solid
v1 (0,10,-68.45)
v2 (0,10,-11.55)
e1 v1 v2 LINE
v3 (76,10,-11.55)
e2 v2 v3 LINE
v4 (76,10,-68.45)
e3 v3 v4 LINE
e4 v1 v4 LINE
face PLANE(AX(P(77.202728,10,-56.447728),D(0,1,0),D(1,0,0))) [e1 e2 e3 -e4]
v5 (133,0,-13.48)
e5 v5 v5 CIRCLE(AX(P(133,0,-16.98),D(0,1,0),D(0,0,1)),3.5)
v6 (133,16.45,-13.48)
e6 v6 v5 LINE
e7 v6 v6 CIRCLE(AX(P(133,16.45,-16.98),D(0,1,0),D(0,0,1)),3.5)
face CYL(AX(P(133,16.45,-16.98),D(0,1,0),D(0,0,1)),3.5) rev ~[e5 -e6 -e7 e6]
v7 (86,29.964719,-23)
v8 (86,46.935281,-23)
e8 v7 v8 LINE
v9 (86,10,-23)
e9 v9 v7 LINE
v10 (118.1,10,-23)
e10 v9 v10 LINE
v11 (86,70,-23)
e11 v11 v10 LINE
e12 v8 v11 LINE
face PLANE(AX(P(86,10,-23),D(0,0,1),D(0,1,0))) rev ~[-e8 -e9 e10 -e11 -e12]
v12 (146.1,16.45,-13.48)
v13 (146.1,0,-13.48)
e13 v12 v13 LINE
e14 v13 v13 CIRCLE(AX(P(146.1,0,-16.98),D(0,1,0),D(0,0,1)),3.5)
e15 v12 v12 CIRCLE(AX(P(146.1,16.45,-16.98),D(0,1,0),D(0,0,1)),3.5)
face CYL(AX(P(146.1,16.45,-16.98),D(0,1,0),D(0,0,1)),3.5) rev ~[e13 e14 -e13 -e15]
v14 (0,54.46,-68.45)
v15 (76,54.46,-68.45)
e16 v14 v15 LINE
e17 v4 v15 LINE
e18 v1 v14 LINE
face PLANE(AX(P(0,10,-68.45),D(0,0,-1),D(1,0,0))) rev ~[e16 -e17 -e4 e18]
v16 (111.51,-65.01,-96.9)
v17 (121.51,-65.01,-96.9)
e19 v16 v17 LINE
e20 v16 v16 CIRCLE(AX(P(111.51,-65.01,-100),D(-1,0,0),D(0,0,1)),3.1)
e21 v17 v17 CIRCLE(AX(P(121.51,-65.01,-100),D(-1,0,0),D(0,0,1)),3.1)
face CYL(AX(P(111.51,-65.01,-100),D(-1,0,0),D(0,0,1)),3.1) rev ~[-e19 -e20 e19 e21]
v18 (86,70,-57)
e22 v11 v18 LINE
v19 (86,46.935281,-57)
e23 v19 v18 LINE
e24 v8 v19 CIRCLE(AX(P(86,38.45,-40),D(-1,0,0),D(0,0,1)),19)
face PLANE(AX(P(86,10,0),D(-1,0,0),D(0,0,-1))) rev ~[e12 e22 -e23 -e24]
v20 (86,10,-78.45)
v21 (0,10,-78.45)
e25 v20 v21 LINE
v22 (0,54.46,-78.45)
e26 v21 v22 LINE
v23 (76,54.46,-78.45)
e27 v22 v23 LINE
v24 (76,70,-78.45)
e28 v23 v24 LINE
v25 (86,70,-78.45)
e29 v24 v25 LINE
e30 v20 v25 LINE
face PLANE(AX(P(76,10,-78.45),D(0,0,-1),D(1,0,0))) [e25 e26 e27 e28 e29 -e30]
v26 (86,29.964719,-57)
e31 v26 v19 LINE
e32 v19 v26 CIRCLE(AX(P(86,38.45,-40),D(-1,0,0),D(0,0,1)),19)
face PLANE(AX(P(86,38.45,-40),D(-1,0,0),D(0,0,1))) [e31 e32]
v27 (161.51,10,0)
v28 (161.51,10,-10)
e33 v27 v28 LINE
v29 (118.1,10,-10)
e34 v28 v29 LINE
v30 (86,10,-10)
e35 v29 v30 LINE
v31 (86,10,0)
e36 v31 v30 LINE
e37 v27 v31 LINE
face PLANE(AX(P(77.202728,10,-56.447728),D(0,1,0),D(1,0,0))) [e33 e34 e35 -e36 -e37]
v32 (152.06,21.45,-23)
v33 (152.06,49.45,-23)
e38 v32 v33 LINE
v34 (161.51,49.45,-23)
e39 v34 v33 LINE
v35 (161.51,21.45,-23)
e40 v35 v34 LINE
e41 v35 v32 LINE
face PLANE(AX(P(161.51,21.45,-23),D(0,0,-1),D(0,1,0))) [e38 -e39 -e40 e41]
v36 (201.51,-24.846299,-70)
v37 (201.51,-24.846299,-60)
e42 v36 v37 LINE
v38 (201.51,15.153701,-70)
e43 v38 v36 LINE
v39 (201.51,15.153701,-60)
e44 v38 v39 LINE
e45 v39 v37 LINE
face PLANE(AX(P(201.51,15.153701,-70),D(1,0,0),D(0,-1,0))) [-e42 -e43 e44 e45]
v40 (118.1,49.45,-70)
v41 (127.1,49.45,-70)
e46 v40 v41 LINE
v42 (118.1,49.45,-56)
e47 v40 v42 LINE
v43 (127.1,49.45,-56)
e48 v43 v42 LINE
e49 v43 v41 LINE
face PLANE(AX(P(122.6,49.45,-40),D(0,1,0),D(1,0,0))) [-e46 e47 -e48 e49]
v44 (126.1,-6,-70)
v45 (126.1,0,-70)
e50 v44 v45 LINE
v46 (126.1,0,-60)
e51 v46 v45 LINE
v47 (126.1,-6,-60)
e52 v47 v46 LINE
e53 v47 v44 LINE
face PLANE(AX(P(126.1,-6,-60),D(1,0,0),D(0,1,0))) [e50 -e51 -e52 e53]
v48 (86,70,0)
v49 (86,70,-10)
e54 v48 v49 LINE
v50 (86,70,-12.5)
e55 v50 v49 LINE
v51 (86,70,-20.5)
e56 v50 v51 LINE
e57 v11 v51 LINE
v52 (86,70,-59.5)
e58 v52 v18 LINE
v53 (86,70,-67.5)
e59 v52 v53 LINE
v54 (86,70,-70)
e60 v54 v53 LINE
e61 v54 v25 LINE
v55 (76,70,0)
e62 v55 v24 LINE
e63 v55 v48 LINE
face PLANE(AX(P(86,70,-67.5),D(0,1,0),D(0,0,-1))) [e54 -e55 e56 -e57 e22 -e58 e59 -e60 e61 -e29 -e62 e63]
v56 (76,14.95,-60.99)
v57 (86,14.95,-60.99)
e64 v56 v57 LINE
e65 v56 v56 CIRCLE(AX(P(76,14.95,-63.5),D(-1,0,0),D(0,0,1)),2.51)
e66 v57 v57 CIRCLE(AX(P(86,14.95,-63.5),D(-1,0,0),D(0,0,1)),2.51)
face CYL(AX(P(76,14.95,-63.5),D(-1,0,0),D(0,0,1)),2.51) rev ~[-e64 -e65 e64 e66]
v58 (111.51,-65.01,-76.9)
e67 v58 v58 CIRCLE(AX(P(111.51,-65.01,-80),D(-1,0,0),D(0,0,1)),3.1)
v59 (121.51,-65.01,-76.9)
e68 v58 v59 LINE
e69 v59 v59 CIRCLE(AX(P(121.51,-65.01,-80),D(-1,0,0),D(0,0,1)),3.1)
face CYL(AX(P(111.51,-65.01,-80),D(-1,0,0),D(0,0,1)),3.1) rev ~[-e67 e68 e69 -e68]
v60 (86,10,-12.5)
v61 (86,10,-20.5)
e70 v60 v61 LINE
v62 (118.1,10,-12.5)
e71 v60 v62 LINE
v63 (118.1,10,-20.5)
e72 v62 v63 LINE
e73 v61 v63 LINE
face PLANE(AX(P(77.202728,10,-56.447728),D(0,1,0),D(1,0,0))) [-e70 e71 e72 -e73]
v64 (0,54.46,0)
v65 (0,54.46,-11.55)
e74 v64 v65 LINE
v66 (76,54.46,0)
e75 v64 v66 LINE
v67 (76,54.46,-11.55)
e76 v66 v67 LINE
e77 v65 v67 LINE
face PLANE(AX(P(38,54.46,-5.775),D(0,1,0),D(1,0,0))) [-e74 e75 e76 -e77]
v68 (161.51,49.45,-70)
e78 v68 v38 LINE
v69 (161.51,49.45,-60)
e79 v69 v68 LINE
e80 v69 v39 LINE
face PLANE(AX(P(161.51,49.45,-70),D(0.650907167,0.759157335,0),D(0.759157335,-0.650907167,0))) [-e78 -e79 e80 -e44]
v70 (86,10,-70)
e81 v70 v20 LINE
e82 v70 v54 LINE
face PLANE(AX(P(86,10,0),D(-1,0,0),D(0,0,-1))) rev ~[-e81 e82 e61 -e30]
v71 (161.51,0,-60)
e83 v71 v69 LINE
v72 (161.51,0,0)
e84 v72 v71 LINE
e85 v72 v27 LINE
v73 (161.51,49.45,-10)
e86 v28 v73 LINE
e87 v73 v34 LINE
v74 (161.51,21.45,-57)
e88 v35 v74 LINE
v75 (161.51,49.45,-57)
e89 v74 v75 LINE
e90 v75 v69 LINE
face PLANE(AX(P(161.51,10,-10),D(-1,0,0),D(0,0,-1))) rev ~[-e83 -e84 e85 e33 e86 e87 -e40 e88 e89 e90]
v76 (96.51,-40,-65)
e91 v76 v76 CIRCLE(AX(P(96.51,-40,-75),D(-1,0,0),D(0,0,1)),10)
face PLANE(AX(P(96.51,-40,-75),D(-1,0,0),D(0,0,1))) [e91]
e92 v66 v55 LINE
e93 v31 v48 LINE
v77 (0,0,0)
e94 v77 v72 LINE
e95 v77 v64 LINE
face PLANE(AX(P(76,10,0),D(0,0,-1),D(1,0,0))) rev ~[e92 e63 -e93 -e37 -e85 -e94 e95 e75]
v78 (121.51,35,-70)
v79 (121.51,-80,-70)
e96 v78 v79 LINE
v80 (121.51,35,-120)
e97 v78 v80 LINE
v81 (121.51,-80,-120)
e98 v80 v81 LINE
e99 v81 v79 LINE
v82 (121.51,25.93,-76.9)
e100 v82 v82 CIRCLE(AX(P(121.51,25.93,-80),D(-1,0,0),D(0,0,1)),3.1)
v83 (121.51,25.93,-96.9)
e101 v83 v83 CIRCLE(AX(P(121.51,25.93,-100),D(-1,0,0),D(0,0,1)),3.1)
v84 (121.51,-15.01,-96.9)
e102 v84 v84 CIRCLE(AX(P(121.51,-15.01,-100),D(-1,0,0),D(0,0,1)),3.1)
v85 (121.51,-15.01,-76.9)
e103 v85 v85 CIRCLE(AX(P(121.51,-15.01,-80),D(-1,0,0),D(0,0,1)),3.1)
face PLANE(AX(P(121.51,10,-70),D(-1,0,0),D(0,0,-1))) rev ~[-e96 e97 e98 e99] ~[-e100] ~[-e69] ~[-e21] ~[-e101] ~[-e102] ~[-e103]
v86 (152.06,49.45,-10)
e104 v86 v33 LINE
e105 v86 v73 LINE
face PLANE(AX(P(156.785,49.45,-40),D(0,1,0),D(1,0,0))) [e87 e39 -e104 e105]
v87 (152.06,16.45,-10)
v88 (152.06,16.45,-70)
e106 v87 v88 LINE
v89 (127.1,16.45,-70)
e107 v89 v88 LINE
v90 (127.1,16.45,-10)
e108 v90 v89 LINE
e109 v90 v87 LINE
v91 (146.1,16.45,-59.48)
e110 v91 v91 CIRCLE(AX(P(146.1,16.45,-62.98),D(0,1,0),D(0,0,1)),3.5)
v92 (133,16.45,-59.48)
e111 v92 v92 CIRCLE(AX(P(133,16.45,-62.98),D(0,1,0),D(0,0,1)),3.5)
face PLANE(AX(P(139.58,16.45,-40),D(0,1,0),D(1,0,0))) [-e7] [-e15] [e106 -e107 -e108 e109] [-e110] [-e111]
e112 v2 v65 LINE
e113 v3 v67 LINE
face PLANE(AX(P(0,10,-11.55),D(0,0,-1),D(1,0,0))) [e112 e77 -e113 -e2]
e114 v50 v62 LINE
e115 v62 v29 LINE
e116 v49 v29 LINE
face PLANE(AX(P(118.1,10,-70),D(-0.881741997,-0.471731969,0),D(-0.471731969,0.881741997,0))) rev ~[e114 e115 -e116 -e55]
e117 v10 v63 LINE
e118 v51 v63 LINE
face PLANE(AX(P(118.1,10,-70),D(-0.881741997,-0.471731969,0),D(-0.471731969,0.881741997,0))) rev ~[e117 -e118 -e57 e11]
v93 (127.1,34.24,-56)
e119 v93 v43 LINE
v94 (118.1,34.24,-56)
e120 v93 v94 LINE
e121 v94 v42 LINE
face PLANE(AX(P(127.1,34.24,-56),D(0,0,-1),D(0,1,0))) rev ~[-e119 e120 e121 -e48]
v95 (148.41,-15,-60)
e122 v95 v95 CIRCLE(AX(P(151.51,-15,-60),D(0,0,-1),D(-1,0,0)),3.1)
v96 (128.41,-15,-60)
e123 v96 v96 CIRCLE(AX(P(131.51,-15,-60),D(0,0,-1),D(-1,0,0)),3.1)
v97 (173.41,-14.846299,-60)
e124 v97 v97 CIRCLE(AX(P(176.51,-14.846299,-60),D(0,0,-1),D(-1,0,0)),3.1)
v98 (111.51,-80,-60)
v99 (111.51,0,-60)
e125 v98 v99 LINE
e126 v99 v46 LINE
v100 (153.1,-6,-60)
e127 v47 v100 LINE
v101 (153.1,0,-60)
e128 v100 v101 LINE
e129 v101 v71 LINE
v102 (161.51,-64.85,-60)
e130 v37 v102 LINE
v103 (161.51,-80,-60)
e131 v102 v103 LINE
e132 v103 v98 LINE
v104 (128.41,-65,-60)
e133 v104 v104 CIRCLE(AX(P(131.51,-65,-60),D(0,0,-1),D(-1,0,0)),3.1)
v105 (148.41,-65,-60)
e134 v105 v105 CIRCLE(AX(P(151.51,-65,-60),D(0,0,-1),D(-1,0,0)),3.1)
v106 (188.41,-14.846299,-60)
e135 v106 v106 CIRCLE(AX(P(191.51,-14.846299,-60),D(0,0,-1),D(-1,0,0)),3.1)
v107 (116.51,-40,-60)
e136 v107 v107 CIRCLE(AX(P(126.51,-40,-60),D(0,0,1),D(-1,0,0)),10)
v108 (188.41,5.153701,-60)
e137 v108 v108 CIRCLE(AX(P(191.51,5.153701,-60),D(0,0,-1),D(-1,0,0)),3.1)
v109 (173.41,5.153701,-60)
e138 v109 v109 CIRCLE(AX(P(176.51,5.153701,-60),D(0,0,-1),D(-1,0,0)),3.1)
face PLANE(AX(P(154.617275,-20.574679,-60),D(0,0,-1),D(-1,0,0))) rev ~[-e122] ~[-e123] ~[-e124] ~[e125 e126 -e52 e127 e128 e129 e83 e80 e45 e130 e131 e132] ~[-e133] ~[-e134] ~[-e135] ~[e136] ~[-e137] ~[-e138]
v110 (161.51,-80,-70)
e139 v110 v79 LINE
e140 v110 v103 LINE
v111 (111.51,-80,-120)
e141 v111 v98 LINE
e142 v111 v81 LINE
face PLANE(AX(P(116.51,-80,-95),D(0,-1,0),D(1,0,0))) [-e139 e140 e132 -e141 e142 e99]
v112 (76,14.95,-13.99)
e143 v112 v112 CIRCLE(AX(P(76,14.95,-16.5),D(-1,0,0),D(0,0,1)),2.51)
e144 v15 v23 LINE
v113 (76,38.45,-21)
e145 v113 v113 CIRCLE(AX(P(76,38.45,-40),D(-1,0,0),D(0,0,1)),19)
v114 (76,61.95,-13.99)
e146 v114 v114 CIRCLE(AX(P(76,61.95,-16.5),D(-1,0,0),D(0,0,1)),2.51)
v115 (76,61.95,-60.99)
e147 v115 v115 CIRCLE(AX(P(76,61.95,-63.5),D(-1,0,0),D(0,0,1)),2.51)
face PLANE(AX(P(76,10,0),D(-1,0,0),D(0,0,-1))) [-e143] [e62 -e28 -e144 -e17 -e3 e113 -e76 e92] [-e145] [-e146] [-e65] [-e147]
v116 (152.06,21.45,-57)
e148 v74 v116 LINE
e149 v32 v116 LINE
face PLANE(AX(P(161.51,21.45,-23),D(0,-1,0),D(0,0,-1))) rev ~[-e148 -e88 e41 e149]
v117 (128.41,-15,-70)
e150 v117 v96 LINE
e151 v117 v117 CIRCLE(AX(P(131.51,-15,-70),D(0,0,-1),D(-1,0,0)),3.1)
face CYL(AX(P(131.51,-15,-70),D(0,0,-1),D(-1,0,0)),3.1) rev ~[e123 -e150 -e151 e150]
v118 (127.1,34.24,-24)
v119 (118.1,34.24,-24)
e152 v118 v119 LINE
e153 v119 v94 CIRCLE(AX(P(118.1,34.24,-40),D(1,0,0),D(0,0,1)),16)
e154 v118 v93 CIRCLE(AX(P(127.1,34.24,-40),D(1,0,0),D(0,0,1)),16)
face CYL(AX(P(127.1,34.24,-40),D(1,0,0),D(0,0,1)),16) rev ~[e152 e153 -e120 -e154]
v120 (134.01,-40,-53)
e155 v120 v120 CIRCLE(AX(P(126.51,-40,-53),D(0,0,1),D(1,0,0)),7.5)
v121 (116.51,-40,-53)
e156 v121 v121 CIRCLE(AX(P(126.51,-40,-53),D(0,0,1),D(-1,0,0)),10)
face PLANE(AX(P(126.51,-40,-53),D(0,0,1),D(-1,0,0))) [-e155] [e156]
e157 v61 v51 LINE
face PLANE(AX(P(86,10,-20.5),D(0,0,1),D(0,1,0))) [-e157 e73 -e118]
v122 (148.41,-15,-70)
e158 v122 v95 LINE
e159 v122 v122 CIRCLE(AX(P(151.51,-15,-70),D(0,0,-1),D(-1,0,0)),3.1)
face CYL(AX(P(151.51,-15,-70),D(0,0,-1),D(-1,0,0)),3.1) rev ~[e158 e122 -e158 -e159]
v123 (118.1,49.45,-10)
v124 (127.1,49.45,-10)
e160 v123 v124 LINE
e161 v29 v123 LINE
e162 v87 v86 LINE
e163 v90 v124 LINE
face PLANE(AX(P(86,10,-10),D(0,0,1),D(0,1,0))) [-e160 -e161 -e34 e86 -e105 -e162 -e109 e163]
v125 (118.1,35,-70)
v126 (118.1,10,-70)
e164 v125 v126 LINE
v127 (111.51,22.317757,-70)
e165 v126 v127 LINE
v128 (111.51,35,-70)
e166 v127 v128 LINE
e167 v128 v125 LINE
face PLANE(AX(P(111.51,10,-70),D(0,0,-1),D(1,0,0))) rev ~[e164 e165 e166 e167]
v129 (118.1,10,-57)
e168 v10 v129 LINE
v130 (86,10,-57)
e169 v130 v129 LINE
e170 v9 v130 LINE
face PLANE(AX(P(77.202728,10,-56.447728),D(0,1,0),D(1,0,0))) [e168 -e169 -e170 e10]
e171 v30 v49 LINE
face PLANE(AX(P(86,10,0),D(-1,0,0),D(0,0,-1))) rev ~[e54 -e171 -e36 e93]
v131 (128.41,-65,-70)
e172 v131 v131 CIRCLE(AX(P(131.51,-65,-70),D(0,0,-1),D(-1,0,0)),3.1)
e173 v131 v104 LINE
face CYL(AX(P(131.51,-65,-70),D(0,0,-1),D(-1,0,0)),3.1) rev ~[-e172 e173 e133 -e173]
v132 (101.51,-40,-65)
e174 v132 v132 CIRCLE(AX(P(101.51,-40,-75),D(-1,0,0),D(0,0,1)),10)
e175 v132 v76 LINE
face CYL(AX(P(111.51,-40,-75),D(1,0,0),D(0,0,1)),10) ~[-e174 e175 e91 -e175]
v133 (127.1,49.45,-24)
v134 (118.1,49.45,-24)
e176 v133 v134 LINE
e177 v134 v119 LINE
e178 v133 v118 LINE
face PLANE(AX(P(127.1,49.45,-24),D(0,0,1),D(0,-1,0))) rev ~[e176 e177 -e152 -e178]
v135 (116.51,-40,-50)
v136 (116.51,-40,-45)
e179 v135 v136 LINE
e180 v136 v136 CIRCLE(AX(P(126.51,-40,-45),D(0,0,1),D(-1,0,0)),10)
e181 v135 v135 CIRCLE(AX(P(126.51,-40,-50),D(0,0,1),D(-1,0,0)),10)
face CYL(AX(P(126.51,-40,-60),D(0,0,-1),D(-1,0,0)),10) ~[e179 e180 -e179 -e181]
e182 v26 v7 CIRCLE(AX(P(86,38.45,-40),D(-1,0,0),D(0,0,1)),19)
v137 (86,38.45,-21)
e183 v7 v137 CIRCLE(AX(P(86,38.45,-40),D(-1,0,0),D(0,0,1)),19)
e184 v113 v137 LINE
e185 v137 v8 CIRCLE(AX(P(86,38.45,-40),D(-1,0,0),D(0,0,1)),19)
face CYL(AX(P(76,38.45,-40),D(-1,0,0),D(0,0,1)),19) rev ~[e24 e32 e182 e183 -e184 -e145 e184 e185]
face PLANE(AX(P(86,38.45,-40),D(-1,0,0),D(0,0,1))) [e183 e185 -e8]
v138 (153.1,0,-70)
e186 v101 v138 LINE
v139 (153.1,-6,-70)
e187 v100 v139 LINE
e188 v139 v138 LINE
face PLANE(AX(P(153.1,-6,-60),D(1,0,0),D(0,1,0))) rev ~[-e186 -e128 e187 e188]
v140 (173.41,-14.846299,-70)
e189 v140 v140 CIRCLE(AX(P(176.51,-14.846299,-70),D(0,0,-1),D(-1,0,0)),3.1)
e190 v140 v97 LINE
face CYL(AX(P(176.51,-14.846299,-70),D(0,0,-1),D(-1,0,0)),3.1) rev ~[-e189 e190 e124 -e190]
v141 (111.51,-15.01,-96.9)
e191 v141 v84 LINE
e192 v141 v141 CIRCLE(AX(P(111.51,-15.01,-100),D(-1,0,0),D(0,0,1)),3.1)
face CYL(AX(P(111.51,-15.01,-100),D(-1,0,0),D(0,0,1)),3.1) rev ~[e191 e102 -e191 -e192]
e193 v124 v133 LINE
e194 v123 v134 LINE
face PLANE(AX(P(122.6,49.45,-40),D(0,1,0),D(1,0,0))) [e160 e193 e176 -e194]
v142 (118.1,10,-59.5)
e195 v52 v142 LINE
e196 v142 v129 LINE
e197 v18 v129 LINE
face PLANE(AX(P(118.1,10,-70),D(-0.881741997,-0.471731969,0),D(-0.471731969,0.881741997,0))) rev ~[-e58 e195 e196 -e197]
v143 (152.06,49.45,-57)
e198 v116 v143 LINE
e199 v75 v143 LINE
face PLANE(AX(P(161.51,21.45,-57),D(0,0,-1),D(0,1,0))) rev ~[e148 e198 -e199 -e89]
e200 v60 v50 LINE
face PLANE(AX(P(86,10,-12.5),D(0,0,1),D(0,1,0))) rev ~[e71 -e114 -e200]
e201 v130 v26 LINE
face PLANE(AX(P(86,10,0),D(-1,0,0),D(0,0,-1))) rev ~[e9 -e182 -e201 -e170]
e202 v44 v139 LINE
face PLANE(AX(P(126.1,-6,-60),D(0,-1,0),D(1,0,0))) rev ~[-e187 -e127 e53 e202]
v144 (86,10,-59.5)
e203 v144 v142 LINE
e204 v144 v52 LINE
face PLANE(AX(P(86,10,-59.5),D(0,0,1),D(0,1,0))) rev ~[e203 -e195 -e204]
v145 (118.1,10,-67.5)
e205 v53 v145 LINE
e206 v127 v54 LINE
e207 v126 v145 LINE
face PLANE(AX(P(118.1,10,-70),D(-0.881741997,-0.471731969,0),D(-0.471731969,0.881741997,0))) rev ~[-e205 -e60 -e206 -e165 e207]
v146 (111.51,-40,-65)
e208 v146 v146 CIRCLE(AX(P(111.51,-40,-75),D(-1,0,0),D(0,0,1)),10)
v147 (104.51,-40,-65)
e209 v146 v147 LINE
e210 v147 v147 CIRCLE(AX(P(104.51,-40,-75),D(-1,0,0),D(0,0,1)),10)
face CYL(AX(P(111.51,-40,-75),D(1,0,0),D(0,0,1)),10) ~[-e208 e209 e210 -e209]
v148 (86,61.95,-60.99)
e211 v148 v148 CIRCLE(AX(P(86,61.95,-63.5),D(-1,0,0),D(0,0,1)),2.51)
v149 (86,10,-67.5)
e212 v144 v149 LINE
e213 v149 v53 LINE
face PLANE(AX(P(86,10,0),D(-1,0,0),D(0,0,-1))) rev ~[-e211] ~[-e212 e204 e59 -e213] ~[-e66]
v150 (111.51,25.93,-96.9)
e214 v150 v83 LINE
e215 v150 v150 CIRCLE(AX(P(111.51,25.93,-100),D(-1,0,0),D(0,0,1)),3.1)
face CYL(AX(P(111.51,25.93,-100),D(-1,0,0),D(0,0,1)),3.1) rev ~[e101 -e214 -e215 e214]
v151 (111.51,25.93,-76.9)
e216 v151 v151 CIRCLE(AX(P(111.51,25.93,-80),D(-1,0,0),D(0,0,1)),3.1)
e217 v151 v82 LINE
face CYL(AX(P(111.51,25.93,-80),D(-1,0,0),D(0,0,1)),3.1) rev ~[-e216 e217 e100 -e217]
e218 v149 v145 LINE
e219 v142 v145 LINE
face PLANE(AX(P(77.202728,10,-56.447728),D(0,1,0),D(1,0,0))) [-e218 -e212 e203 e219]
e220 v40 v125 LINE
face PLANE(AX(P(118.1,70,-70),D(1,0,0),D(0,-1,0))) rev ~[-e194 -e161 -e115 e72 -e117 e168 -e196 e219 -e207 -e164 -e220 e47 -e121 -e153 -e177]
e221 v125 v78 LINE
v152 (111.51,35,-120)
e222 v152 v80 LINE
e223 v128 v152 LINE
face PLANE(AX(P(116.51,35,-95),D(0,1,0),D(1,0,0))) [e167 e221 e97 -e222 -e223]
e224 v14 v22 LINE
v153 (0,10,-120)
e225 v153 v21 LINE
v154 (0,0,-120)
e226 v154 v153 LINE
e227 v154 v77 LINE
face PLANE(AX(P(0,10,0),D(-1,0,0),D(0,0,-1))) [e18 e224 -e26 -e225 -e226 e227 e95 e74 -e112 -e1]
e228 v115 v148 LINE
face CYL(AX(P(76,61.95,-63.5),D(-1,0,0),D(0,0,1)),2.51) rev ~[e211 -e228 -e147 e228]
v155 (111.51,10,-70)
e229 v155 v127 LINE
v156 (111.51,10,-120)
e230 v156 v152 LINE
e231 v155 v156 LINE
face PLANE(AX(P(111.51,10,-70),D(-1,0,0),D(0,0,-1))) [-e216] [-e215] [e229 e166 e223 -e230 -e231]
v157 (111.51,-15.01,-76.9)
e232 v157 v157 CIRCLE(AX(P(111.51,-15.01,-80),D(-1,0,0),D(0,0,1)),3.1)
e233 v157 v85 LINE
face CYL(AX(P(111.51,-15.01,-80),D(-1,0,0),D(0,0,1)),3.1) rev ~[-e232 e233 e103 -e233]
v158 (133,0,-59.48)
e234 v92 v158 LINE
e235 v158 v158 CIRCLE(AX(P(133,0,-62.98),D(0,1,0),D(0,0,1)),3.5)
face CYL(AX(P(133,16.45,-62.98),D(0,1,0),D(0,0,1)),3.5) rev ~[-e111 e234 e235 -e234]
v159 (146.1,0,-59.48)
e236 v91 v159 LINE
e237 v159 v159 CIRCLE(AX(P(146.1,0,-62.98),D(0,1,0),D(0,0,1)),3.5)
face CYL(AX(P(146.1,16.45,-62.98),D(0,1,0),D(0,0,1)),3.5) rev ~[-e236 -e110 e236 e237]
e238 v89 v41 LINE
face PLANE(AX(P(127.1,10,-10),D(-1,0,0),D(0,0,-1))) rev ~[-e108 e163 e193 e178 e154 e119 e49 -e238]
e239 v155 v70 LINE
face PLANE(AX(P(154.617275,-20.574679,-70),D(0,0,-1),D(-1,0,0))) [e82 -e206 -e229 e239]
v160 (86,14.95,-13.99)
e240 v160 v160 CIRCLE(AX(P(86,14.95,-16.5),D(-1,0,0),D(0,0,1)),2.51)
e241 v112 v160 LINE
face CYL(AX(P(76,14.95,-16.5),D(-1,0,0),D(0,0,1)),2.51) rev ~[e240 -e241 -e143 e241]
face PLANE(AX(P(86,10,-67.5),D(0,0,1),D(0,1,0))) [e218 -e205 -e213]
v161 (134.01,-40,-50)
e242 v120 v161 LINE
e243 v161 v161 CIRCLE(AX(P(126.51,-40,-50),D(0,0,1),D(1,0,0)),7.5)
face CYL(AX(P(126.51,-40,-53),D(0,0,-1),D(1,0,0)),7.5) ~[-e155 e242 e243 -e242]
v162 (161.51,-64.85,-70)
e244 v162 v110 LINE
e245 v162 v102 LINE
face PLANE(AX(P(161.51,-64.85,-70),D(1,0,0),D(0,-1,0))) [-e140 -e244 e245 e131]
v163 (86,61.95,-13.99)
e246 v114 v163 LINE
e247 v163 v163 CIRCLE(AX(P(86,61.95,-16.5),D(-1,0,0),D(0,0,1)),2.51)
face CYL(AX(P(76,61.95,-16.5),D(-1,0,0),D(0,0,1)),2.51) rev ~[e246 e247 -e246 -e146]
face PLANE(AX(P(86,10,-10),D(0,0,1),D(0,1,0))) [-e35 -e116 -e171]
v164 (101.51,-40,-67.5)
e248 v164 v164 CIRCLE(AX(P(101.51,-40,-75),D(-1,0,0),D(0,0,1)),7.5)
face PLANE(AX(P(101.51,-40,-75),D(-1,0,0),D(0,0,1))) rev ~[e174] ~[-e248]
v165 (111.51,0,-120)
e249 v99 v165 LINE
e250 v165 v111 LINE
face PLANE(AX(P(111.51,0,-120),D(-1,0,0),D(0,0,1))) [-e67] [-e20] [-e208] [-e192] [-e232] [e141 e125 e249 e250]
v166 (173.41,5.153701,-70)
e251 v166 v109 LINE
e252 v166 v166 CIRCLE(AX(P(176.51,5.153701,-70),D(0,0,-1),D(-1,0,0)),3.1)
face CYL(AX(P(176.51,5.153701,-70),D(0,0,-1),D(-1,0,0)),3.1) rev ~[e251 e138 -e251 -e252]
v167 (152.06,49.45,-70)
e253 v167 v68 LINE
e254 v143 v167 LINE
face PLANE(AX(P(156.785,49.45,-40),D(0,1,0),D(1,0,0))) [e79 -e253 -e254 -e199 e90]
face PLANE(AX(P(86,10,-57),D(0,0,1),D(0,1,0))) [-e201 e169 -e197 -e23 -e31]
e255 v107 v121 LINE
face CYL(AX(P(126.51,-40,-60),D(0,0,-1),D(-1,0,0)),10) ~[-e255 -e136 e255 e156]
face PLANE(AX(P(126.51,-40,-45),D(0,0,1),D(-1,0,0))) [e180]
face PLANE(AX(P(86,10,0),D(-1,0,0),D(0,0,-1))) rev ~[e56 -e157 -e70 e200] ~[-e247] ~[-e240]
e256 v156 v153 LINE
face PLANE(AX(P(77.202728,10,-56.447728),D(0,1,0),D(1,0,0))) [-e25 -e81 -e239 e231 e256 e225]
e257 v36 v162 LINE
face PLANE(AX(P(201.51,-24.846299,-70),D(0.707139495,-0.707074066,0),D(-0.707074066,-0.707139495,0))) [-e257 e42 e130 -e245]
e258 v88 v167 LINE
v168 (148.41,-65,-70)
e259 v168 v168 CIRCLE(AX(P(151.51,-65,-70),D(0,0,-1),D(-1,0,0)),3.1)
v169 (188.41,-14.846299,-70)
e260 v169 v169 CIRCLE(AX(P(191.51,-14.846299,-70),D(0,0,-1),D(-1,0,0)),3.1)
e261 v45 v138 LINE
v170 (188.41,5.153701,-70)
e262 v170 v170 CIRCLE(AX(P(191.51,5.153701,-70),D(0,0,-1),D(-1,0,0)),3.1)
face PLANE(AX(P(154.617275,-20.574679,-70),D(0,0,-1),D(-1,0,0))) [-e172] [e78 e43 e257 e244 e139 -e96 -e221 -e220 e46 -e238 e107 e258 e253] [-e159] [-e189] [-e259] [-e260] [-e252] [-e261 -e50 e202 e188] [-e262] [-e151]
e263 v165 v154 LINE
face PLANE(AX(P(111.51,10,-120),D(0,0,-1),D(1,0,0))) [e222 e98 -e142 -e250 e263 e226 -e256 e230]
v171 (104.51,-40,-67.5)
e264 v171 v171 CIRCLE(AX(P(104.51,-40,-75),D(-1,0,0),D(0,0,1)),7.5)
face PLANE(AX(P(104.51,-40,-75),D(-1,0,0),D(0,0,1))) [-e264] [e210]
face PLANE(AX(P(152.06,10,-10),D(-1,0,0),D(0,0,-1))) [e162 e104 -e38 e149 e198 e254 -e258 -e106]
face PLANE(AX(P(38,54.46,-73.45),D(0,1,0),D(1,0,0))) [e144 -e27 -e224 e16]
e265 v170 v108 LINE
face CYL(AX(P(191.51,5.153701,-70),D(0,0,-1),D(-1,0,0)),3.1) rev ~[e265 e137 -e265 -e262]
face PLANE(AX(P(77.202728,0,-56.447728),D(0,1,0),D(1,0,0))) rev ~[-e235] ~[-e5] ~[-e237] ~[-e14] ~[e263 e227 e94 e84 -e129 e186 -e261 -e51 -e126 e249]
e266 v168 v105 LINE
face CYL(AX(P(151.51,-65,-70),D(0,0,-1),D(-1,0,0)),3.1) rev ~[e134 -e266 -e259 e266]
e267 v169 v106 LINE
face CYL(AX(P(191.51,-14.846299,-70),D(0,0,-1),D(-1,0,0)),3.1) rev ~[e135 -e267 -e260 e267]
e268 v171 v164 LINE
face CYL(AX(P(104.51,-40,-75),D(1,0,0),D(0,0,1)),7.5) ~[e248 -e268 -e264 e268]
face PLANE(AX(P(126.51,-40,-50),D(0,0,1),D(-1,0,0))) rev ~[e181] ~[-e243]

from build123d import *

# Parameters (mm, degrees)
BOSS_EXTRUDE1_DEPTH  = 10
SKETCH2_W            = 9.45
SKETCH2_H            = 60
BOSS_EXTRUDE2_DEPTH  = 39.45
SKETCH3_W            = 24.96
SKETCH3_H            = 60
BOSS_EXTRUDE3_DEPTH  = 6.45
SKETCH4_W            = 9
SKETCH4_H            = 60
BOSS_EXTRUDE4_DEPTH  = 39.45
CUT_EXTRUDE1_REACH   = 209.197
SKETCH5_W            = 34
SKETCH5_H            = 28
CUT_EXTRUDE2_REACH   = 183.658
SKETCH7_W            = 76
SKETCH7_H            = 11.55
BOSS_EXTRUDE5_DEPTH  = 44.46
SKETCH8_W            = 76
SKETCH8_H            = 10
BOSS_EXTRUDE6_DEPTH  = 44.46
SKETCH9_W            = 10
SKETCH9_H            = 78.45
BOSS_EXTRUDE7_DEPTH  = 60
SKETCH10_W           = 2.5
SKETCH10_H           = 60
BOSS_EXTRUDE8_DEPTH  = 32.1
BOSS_EXTRUDE12_DEPTH = 10
CUT_EXTRUDE5_DEPTH   = 228.829497871
SKETCH17_W           = 10
SKETCH17_H           = 50
BOSS_EXTRUDE13_DEPTH = 80
SKETCH18_W           = 10
SKETCH18_H           = 50
BOSS_EXTRUDE14_DEPTH = 25
SKETCH19_R           = 3.5
CUT_EXTRUDE6_DEPTH   = 20
SKETCH20_W           = 27
SKETCH20_H           = 6
CUT_EXTRUDE7_DEPTH   = 10
SKETCH21_R           = 2.51
SKETCH21_R_2         = 19
CUT_EXTRUDE8_DEPTH   = 10
SKETCH22_R           = 3.1
CUT_EXTRUDE9_DEPTH   = 10
SKETCH23_R           = 3.1
CUT_EXTRUDE10_DEPTH  = 10
SKETCH24_R           = 10
BOSS_EXTRUDE15_DEPTH = 15
CUT_EXTRUDE11_START  = -8
SKETCH25_R           = 10
SKETCH25_R_2         = 7.5
CUT_EXTRUDE11_DEPTH  = 3
SKETCH26_R           = 10
BOSS_EXTRUDE16_DEPTH = 15
CUT_EXTRUDE12_START  = -8
SKETCH27_R           = 10
SKETCH27_R_2         = 7.5
CUT_EXTRUDE12_DEPTH  = 3


with BuildPart() as part:
    # Sketch1 → Boss-Extrude1 (new body)
    with BuildSketch(Plane(origin=(0, 0, 0), x_dir=(1, 0, 0), z_dir=(0, 1, 0))):
        Polygon((0, 0), (161.51, 0), (161.51, 70), (121.51, 70), (121.51, 120), (0, 120), align=None)
    extrude(amount=BOSS_EXTRUDE1_DEPTH)

    # Sketch2 → Boss-Extrude2 (add)
    with BuildSketch(Plane(origin=(0, 10, 0), x_dir=(1, 0, 0), z_dir=(0, 1, 0))):
        with Locations((156.785, 40)):
            Rectangle(SKETCH2_W, SKETCH2_H)
    extrude(amount=BOSS_EXTRUDE2_DEPTH)

    # Sketch3 → Boss-Extrude3 (add)
    with BuildSketch(Plane(origin=(0, 10, 0), x_dir=(1, 0, 0), z_dir=(0, 1, 0))):
        with Locations((139.58, 40)):
            Rectangle(SKETCH3_W, SKETCH3_H)
    extrude(amount=BOSS_EXTRUDE3_DEPTH)

    # Sketch4 → Boss-Extrude4 (add)
    with BuildSketch(Plane(origin=(0, 10, 0), x_dir=(1, 0, 0), z_dir=(0, 1, 0))):
        with Locations((122.6, 40)):
            Rectangle(SKETCH4_W, SKETCH4_H)
    extrude(amount=BOSS_EXTRUDE4_DEPTH)

    # Sketch5 → Cut-Extrude1 (cut, up to next)
    with BuildSketch(Plane(origin=(161.51, 0, 0), x_dir=(0, 0, -1), z_dir=(1, 0, 0)), mode=Mode.PRIVATE) as cut_extrude1_sk1:
        with Locations((40, 35.45)):
            Rectangle(SKETCH5_W, SKETCH5_H)
    cut_extrude1_tool1 = extrude(cut_extrude1_sk1.sketch, amount=-CUT_EXTRUDE1_REACH, mode=Mode.PRIVATE) & part.part
    add(cut_extrude1_tool1.solids().sort_by_distance((161.51, 35.45, -40))[0], mode=Mode.SUBTRACT)

    # Sketch6 → Cut-Extrude2 (cut, up to next)
    with BuildSketch(Plane(origin=(127.1, 0, 0), x_dir=(0, 0, -1), z_dir=(1, 0, 0)), mode=Mode.PRIVATE) as cut_extrude2_sk1:
        with BuildLine():
            Line((24, 49.45), (24, 34.24))
            ThreePointArc((24, 34.24), (40, 18.24), (56, 34.24))
            Line((56, 34.24), (56, 49.45))
            Line((56, 49.45), (24, 49.45))
        make_face()
    cut_extrude2_tool1 = extrude(cut_extrude2_sk1.sketch, amount=-CUT_EXTRUDE2_REACH, mode=Mode.PRIVATE) & part.part
    add(cut_extrude2_tool1.solids().sort_by_distance((127.1, 35.332249, -40))[0], mode=Mode.SUBTRACT)

    # Sketch7 → Boss-Extrude5 (add)
    with BuildSketch(Plane(origin=(0, 10, 0), x_dir=(1, 0, 0), z_dir=(0, 1, 0))):
        with Locations((38, 5.775)):
            Rectangle(SKETCH7_W, SKETCH7_H)
    extrude(amount=BOSS_EXTRUDE5_DEPTH)

    # Sketch8 → Boss-Extrude6 (add)
    with BuildSketch(Plane(origin=(0, 10, 0), x_dir=(1, 0, 0), z_dir=(0, 1, 0))):
        with Locations((38, 73.45)):
            Rectangle(SKETCH8_W, SKETCH8_H)
    extrude(amount=BOSS_EXTRUDE6_DEPTH)

    # Sketch9 → Boss-Extrude7 (add)
    with BuildSketch(Plane(origin=(0, 10, 0), x_dir=(1, 0, 0), z_dir=(0, 1, 0))):
        with Locations((81, 39.225)):
            Rectangle(SKETCH9_W, SKETCH9_H)
    extrude(amount=BOSS_EXTRUDE7_DEPTH)

    # Sketch10 → Boss-Extrude8 (add)
    with BuildSketch(Plane(origin=(86, 0, 0), x_dir=(0, 0, -1), z_dir=(1, 0, 0))):
        with Locations((68.75, 40)):
            Rectangle(SKETCH10_W, SKETCH10_H)
        with Locations((58.25, 40)):
            Rectangle(SKETCH10_W, SKETCH10_H)
        with Locations((21.75, 40)):
            Rectangle(SKETCH10_W, SKETCH10_H)
        with Locations((11.25, 40)):
            Rectangle(SKETCH10_W, SKETCH10_H)
    extrude(amount=BOSS_EXTRUDE8_DEPTH)

    # Sketch13 → Boss-Extrude12 (add)
    with BuildSketch(Plane(origin=(0, 0, -70), x_dir=(-1, 0, 0), z_dir=(0, 0, -1))):
        Polygon((-111.51, 0), (-161.51, 0), (-161.51, 49.45), (-201.51, 15.153701366), (-201.51, -24.846298634), (-161.51, -64.85), (-161.51, -80), (-111.51, -80), align=None)
    extrude(amount=-BOSS_EXTRUDE12_DEPTH)

    # Sketch16 → Cut-Extrude5 (cut, through all)
    with BuildSketch(Plane(origin=(0, 0, -70), x_dir=(-1, 0, 0), z_dir=(0, 0, -1))):
        Polygon((-86, 70), (-118.1, 70), (-118.1, 10), align=None)
    extrude(amount=-CUT_EXTRUDE5_DEPTH, mode=Mode.SUBTRACT)

    # Sketch17 → Boss-Extrude13 (add)
    with BuildSketch(Plane.XZ):
        with Locations((116.51, -95)):
            Rectangle(SKETCH17_W, SKETCH17_H)
    extrude(amount=BOSS_EXTRUDE13_DEPTH)

    # Sketch18 → Boss-Extrude14 (add)
    with BuildSketch(Plane(origin=(0, 10, 0), x_dir=(1, 0, 0), z_dir=(0, 1, 0))):
        with Locations((116.51, 95)):
            Rectangle(SKETCH18_W, SKETCH18_H)
    extrude(amount=BOSS_EXTRUDE14_DEPTH)

    # Sketch19 → Cut-Extrude6 (cut)
    with BuildSketch(Plane(origin=(0, 16.45, 0), x_dir=(1, 0, 0), z_dir=(0, 1, 0))):
        with Locations(Location((146.1, 62.98, 0), (0, 0, 270))):
            Circle(SKETCH19_R)
        with Locations(Location((133, 62.98, 0), (0, 0, 270))):
            Circle(SKETCH19_R)
        with Locations(Location((133, 16.98, 0), (0, 0, 270))):
            Circle(SKETCH19_R)
        with Locations(Location((146.1, 16.98, 0), (0, 0, 270))):
            Circle(SKETCH19_R)
    extrude(amount=-CUT_EXTRUDE6_DEPTH, mode=Mode.SUBTRACT)

    # Sketch20 → Cut-Extrude7 (cut)
    with BuildSketch(Plane.XY.offset(-60)):
        with Locations((139.6, -3)):
            Rectangle(SKETCH20_W, SKETCH20_H)
    extrude(amount=-CUT_EXTRUDE7_DEPTH, mode=Mode.SUBTRACT)

    # Sketch21 → Cut-Extrude8 (cut)
    with BuildSketch(Plane.ZY.offset(-76)):
        with Locations((-16.5, 61.95)):
            Circle(SKETCH21_R)
        with Locations((-63.5, 61.95)):
            Circle(SKETCH21_R)
        with Locations((-63.5, 14.95)):
            Circle(SKETCH21_R)
        with Locations((-16.5, 14.95)):
            Circle(SKETCH21_R)
        with Locations((-40, 38.45)):
            Circle(SKETCH21_R_2)
    extrude(amount=-CUT_EXTRUDE8_DEPTH, mode=Mode.SUBTRACT)

    # Sketch22 → Cut-Extrude9 (cut)
    with BuildSketch(Plane(origin=(0, 0, -70), x_dir=(-1, 0, 0), z_dir=(0, 0, -1))):
        with Locations((-131.51, -15)):
            Circle(SKETCH22_R)
        with Locations((-151.51, -15)):
            Circle(SKETCH22_R)
        with Locations((-151.51, -65)):
            Circle(SKETCH22_R)
        with Locations((-131.51, -65)):
            Circle(SKETCH22_R)
        with Locations((-191.51, 5.153701366)):
            Circle(SKETCH22_R)
        with Locations((-176.51, 5.153701366)):
            Circle(SKETCH22_R)
        with Locations((-176.51, -14.846298634)):
            Circle(SKETCH22_R)
        with Locations((-191.51, -14.846298634)):
            Circle(SKETCH22_R)
    extrude(amount=-CUT_EXTRUDE9_DEPTH, mode=Mode.SUBTRACT)

    # Sketch23 → Cut-Extrude10 (cut)
    with BuildSketch(Plane.ZY.offset(-111.51)):
        with Locations((-100, 25.93)):
            Circle(SKETCH23_R)
        with Locations((-80, 25.93)):
            Circle(SKETCH23_R)
        with Locations((-80, -15.01)):
            Circle(SKETCH23_R)
        with Locations((-100, -15.01)):
            Circle(SKETCH23_R)
        with Locations((-100, -65.01)):
            Circle(SKETCH23_R)
        with Locations((-80, -65.01)):
            Circle(SKETCH23_R)
    extrude(amount=-CUT_EXTRUDE10_DEPTH, mode=Mode.SUBTRACT)

    # Sketch24 → Boss-Extrude15 (add)
    with BuildSketch(Plane.XY.offset(-60)):
        with Locations(Location((126.51, -40, 0), (0, 0, 180))):
            Circle(SKETCH24_R)
    extrude(amount=BOSS_EXTRUDE15_DEPTH)

    # Sketch25 → Cut-Extrude11 (cut)
    with BuildSketch(Plane.XY.offset(-45).offset(CUT_EXTRUDE11_START)):
        with Locations(Location((126.51, -40, 0), (0, 0, 180))):
            Circle(SKETCH25_R)
        with Locations((126.51, -40)):
            Circle(SKETCH25_R_2, mode=Mode.SUBTRACT)
    extrude(amount=CUT_EXTRUDE11_DEPTH, mode=Mode.SUBTRACT)

    # Sketch26 → Boss-Extrude16 (add)
    with BuildSketch(Plane.ZY.offset(-111.51)):
        with Locations((-75, -40)):
            Circle(SKETCH26_R)
    extrude(amount=BOSS_EXTRUDE16_DEPTH)

    # Sketch27 → Cut-Extrude12 (cut)
    with BuildSketch(Plane.ZY.offset(-96.51).offset(CUT_EXTRUDE12_START)):
        with Locations((-75, -40)):
            Circle(SKETCH27_R)
        with Locations((-75, -40)):
            Circle(SKETCH27_R_2, mode=Mode.SUBTRACT)
    extrude(amount=CUT_EXTRUDE12_DEPTH, mode=Mode.SUBTRACT)


solid = part.part
